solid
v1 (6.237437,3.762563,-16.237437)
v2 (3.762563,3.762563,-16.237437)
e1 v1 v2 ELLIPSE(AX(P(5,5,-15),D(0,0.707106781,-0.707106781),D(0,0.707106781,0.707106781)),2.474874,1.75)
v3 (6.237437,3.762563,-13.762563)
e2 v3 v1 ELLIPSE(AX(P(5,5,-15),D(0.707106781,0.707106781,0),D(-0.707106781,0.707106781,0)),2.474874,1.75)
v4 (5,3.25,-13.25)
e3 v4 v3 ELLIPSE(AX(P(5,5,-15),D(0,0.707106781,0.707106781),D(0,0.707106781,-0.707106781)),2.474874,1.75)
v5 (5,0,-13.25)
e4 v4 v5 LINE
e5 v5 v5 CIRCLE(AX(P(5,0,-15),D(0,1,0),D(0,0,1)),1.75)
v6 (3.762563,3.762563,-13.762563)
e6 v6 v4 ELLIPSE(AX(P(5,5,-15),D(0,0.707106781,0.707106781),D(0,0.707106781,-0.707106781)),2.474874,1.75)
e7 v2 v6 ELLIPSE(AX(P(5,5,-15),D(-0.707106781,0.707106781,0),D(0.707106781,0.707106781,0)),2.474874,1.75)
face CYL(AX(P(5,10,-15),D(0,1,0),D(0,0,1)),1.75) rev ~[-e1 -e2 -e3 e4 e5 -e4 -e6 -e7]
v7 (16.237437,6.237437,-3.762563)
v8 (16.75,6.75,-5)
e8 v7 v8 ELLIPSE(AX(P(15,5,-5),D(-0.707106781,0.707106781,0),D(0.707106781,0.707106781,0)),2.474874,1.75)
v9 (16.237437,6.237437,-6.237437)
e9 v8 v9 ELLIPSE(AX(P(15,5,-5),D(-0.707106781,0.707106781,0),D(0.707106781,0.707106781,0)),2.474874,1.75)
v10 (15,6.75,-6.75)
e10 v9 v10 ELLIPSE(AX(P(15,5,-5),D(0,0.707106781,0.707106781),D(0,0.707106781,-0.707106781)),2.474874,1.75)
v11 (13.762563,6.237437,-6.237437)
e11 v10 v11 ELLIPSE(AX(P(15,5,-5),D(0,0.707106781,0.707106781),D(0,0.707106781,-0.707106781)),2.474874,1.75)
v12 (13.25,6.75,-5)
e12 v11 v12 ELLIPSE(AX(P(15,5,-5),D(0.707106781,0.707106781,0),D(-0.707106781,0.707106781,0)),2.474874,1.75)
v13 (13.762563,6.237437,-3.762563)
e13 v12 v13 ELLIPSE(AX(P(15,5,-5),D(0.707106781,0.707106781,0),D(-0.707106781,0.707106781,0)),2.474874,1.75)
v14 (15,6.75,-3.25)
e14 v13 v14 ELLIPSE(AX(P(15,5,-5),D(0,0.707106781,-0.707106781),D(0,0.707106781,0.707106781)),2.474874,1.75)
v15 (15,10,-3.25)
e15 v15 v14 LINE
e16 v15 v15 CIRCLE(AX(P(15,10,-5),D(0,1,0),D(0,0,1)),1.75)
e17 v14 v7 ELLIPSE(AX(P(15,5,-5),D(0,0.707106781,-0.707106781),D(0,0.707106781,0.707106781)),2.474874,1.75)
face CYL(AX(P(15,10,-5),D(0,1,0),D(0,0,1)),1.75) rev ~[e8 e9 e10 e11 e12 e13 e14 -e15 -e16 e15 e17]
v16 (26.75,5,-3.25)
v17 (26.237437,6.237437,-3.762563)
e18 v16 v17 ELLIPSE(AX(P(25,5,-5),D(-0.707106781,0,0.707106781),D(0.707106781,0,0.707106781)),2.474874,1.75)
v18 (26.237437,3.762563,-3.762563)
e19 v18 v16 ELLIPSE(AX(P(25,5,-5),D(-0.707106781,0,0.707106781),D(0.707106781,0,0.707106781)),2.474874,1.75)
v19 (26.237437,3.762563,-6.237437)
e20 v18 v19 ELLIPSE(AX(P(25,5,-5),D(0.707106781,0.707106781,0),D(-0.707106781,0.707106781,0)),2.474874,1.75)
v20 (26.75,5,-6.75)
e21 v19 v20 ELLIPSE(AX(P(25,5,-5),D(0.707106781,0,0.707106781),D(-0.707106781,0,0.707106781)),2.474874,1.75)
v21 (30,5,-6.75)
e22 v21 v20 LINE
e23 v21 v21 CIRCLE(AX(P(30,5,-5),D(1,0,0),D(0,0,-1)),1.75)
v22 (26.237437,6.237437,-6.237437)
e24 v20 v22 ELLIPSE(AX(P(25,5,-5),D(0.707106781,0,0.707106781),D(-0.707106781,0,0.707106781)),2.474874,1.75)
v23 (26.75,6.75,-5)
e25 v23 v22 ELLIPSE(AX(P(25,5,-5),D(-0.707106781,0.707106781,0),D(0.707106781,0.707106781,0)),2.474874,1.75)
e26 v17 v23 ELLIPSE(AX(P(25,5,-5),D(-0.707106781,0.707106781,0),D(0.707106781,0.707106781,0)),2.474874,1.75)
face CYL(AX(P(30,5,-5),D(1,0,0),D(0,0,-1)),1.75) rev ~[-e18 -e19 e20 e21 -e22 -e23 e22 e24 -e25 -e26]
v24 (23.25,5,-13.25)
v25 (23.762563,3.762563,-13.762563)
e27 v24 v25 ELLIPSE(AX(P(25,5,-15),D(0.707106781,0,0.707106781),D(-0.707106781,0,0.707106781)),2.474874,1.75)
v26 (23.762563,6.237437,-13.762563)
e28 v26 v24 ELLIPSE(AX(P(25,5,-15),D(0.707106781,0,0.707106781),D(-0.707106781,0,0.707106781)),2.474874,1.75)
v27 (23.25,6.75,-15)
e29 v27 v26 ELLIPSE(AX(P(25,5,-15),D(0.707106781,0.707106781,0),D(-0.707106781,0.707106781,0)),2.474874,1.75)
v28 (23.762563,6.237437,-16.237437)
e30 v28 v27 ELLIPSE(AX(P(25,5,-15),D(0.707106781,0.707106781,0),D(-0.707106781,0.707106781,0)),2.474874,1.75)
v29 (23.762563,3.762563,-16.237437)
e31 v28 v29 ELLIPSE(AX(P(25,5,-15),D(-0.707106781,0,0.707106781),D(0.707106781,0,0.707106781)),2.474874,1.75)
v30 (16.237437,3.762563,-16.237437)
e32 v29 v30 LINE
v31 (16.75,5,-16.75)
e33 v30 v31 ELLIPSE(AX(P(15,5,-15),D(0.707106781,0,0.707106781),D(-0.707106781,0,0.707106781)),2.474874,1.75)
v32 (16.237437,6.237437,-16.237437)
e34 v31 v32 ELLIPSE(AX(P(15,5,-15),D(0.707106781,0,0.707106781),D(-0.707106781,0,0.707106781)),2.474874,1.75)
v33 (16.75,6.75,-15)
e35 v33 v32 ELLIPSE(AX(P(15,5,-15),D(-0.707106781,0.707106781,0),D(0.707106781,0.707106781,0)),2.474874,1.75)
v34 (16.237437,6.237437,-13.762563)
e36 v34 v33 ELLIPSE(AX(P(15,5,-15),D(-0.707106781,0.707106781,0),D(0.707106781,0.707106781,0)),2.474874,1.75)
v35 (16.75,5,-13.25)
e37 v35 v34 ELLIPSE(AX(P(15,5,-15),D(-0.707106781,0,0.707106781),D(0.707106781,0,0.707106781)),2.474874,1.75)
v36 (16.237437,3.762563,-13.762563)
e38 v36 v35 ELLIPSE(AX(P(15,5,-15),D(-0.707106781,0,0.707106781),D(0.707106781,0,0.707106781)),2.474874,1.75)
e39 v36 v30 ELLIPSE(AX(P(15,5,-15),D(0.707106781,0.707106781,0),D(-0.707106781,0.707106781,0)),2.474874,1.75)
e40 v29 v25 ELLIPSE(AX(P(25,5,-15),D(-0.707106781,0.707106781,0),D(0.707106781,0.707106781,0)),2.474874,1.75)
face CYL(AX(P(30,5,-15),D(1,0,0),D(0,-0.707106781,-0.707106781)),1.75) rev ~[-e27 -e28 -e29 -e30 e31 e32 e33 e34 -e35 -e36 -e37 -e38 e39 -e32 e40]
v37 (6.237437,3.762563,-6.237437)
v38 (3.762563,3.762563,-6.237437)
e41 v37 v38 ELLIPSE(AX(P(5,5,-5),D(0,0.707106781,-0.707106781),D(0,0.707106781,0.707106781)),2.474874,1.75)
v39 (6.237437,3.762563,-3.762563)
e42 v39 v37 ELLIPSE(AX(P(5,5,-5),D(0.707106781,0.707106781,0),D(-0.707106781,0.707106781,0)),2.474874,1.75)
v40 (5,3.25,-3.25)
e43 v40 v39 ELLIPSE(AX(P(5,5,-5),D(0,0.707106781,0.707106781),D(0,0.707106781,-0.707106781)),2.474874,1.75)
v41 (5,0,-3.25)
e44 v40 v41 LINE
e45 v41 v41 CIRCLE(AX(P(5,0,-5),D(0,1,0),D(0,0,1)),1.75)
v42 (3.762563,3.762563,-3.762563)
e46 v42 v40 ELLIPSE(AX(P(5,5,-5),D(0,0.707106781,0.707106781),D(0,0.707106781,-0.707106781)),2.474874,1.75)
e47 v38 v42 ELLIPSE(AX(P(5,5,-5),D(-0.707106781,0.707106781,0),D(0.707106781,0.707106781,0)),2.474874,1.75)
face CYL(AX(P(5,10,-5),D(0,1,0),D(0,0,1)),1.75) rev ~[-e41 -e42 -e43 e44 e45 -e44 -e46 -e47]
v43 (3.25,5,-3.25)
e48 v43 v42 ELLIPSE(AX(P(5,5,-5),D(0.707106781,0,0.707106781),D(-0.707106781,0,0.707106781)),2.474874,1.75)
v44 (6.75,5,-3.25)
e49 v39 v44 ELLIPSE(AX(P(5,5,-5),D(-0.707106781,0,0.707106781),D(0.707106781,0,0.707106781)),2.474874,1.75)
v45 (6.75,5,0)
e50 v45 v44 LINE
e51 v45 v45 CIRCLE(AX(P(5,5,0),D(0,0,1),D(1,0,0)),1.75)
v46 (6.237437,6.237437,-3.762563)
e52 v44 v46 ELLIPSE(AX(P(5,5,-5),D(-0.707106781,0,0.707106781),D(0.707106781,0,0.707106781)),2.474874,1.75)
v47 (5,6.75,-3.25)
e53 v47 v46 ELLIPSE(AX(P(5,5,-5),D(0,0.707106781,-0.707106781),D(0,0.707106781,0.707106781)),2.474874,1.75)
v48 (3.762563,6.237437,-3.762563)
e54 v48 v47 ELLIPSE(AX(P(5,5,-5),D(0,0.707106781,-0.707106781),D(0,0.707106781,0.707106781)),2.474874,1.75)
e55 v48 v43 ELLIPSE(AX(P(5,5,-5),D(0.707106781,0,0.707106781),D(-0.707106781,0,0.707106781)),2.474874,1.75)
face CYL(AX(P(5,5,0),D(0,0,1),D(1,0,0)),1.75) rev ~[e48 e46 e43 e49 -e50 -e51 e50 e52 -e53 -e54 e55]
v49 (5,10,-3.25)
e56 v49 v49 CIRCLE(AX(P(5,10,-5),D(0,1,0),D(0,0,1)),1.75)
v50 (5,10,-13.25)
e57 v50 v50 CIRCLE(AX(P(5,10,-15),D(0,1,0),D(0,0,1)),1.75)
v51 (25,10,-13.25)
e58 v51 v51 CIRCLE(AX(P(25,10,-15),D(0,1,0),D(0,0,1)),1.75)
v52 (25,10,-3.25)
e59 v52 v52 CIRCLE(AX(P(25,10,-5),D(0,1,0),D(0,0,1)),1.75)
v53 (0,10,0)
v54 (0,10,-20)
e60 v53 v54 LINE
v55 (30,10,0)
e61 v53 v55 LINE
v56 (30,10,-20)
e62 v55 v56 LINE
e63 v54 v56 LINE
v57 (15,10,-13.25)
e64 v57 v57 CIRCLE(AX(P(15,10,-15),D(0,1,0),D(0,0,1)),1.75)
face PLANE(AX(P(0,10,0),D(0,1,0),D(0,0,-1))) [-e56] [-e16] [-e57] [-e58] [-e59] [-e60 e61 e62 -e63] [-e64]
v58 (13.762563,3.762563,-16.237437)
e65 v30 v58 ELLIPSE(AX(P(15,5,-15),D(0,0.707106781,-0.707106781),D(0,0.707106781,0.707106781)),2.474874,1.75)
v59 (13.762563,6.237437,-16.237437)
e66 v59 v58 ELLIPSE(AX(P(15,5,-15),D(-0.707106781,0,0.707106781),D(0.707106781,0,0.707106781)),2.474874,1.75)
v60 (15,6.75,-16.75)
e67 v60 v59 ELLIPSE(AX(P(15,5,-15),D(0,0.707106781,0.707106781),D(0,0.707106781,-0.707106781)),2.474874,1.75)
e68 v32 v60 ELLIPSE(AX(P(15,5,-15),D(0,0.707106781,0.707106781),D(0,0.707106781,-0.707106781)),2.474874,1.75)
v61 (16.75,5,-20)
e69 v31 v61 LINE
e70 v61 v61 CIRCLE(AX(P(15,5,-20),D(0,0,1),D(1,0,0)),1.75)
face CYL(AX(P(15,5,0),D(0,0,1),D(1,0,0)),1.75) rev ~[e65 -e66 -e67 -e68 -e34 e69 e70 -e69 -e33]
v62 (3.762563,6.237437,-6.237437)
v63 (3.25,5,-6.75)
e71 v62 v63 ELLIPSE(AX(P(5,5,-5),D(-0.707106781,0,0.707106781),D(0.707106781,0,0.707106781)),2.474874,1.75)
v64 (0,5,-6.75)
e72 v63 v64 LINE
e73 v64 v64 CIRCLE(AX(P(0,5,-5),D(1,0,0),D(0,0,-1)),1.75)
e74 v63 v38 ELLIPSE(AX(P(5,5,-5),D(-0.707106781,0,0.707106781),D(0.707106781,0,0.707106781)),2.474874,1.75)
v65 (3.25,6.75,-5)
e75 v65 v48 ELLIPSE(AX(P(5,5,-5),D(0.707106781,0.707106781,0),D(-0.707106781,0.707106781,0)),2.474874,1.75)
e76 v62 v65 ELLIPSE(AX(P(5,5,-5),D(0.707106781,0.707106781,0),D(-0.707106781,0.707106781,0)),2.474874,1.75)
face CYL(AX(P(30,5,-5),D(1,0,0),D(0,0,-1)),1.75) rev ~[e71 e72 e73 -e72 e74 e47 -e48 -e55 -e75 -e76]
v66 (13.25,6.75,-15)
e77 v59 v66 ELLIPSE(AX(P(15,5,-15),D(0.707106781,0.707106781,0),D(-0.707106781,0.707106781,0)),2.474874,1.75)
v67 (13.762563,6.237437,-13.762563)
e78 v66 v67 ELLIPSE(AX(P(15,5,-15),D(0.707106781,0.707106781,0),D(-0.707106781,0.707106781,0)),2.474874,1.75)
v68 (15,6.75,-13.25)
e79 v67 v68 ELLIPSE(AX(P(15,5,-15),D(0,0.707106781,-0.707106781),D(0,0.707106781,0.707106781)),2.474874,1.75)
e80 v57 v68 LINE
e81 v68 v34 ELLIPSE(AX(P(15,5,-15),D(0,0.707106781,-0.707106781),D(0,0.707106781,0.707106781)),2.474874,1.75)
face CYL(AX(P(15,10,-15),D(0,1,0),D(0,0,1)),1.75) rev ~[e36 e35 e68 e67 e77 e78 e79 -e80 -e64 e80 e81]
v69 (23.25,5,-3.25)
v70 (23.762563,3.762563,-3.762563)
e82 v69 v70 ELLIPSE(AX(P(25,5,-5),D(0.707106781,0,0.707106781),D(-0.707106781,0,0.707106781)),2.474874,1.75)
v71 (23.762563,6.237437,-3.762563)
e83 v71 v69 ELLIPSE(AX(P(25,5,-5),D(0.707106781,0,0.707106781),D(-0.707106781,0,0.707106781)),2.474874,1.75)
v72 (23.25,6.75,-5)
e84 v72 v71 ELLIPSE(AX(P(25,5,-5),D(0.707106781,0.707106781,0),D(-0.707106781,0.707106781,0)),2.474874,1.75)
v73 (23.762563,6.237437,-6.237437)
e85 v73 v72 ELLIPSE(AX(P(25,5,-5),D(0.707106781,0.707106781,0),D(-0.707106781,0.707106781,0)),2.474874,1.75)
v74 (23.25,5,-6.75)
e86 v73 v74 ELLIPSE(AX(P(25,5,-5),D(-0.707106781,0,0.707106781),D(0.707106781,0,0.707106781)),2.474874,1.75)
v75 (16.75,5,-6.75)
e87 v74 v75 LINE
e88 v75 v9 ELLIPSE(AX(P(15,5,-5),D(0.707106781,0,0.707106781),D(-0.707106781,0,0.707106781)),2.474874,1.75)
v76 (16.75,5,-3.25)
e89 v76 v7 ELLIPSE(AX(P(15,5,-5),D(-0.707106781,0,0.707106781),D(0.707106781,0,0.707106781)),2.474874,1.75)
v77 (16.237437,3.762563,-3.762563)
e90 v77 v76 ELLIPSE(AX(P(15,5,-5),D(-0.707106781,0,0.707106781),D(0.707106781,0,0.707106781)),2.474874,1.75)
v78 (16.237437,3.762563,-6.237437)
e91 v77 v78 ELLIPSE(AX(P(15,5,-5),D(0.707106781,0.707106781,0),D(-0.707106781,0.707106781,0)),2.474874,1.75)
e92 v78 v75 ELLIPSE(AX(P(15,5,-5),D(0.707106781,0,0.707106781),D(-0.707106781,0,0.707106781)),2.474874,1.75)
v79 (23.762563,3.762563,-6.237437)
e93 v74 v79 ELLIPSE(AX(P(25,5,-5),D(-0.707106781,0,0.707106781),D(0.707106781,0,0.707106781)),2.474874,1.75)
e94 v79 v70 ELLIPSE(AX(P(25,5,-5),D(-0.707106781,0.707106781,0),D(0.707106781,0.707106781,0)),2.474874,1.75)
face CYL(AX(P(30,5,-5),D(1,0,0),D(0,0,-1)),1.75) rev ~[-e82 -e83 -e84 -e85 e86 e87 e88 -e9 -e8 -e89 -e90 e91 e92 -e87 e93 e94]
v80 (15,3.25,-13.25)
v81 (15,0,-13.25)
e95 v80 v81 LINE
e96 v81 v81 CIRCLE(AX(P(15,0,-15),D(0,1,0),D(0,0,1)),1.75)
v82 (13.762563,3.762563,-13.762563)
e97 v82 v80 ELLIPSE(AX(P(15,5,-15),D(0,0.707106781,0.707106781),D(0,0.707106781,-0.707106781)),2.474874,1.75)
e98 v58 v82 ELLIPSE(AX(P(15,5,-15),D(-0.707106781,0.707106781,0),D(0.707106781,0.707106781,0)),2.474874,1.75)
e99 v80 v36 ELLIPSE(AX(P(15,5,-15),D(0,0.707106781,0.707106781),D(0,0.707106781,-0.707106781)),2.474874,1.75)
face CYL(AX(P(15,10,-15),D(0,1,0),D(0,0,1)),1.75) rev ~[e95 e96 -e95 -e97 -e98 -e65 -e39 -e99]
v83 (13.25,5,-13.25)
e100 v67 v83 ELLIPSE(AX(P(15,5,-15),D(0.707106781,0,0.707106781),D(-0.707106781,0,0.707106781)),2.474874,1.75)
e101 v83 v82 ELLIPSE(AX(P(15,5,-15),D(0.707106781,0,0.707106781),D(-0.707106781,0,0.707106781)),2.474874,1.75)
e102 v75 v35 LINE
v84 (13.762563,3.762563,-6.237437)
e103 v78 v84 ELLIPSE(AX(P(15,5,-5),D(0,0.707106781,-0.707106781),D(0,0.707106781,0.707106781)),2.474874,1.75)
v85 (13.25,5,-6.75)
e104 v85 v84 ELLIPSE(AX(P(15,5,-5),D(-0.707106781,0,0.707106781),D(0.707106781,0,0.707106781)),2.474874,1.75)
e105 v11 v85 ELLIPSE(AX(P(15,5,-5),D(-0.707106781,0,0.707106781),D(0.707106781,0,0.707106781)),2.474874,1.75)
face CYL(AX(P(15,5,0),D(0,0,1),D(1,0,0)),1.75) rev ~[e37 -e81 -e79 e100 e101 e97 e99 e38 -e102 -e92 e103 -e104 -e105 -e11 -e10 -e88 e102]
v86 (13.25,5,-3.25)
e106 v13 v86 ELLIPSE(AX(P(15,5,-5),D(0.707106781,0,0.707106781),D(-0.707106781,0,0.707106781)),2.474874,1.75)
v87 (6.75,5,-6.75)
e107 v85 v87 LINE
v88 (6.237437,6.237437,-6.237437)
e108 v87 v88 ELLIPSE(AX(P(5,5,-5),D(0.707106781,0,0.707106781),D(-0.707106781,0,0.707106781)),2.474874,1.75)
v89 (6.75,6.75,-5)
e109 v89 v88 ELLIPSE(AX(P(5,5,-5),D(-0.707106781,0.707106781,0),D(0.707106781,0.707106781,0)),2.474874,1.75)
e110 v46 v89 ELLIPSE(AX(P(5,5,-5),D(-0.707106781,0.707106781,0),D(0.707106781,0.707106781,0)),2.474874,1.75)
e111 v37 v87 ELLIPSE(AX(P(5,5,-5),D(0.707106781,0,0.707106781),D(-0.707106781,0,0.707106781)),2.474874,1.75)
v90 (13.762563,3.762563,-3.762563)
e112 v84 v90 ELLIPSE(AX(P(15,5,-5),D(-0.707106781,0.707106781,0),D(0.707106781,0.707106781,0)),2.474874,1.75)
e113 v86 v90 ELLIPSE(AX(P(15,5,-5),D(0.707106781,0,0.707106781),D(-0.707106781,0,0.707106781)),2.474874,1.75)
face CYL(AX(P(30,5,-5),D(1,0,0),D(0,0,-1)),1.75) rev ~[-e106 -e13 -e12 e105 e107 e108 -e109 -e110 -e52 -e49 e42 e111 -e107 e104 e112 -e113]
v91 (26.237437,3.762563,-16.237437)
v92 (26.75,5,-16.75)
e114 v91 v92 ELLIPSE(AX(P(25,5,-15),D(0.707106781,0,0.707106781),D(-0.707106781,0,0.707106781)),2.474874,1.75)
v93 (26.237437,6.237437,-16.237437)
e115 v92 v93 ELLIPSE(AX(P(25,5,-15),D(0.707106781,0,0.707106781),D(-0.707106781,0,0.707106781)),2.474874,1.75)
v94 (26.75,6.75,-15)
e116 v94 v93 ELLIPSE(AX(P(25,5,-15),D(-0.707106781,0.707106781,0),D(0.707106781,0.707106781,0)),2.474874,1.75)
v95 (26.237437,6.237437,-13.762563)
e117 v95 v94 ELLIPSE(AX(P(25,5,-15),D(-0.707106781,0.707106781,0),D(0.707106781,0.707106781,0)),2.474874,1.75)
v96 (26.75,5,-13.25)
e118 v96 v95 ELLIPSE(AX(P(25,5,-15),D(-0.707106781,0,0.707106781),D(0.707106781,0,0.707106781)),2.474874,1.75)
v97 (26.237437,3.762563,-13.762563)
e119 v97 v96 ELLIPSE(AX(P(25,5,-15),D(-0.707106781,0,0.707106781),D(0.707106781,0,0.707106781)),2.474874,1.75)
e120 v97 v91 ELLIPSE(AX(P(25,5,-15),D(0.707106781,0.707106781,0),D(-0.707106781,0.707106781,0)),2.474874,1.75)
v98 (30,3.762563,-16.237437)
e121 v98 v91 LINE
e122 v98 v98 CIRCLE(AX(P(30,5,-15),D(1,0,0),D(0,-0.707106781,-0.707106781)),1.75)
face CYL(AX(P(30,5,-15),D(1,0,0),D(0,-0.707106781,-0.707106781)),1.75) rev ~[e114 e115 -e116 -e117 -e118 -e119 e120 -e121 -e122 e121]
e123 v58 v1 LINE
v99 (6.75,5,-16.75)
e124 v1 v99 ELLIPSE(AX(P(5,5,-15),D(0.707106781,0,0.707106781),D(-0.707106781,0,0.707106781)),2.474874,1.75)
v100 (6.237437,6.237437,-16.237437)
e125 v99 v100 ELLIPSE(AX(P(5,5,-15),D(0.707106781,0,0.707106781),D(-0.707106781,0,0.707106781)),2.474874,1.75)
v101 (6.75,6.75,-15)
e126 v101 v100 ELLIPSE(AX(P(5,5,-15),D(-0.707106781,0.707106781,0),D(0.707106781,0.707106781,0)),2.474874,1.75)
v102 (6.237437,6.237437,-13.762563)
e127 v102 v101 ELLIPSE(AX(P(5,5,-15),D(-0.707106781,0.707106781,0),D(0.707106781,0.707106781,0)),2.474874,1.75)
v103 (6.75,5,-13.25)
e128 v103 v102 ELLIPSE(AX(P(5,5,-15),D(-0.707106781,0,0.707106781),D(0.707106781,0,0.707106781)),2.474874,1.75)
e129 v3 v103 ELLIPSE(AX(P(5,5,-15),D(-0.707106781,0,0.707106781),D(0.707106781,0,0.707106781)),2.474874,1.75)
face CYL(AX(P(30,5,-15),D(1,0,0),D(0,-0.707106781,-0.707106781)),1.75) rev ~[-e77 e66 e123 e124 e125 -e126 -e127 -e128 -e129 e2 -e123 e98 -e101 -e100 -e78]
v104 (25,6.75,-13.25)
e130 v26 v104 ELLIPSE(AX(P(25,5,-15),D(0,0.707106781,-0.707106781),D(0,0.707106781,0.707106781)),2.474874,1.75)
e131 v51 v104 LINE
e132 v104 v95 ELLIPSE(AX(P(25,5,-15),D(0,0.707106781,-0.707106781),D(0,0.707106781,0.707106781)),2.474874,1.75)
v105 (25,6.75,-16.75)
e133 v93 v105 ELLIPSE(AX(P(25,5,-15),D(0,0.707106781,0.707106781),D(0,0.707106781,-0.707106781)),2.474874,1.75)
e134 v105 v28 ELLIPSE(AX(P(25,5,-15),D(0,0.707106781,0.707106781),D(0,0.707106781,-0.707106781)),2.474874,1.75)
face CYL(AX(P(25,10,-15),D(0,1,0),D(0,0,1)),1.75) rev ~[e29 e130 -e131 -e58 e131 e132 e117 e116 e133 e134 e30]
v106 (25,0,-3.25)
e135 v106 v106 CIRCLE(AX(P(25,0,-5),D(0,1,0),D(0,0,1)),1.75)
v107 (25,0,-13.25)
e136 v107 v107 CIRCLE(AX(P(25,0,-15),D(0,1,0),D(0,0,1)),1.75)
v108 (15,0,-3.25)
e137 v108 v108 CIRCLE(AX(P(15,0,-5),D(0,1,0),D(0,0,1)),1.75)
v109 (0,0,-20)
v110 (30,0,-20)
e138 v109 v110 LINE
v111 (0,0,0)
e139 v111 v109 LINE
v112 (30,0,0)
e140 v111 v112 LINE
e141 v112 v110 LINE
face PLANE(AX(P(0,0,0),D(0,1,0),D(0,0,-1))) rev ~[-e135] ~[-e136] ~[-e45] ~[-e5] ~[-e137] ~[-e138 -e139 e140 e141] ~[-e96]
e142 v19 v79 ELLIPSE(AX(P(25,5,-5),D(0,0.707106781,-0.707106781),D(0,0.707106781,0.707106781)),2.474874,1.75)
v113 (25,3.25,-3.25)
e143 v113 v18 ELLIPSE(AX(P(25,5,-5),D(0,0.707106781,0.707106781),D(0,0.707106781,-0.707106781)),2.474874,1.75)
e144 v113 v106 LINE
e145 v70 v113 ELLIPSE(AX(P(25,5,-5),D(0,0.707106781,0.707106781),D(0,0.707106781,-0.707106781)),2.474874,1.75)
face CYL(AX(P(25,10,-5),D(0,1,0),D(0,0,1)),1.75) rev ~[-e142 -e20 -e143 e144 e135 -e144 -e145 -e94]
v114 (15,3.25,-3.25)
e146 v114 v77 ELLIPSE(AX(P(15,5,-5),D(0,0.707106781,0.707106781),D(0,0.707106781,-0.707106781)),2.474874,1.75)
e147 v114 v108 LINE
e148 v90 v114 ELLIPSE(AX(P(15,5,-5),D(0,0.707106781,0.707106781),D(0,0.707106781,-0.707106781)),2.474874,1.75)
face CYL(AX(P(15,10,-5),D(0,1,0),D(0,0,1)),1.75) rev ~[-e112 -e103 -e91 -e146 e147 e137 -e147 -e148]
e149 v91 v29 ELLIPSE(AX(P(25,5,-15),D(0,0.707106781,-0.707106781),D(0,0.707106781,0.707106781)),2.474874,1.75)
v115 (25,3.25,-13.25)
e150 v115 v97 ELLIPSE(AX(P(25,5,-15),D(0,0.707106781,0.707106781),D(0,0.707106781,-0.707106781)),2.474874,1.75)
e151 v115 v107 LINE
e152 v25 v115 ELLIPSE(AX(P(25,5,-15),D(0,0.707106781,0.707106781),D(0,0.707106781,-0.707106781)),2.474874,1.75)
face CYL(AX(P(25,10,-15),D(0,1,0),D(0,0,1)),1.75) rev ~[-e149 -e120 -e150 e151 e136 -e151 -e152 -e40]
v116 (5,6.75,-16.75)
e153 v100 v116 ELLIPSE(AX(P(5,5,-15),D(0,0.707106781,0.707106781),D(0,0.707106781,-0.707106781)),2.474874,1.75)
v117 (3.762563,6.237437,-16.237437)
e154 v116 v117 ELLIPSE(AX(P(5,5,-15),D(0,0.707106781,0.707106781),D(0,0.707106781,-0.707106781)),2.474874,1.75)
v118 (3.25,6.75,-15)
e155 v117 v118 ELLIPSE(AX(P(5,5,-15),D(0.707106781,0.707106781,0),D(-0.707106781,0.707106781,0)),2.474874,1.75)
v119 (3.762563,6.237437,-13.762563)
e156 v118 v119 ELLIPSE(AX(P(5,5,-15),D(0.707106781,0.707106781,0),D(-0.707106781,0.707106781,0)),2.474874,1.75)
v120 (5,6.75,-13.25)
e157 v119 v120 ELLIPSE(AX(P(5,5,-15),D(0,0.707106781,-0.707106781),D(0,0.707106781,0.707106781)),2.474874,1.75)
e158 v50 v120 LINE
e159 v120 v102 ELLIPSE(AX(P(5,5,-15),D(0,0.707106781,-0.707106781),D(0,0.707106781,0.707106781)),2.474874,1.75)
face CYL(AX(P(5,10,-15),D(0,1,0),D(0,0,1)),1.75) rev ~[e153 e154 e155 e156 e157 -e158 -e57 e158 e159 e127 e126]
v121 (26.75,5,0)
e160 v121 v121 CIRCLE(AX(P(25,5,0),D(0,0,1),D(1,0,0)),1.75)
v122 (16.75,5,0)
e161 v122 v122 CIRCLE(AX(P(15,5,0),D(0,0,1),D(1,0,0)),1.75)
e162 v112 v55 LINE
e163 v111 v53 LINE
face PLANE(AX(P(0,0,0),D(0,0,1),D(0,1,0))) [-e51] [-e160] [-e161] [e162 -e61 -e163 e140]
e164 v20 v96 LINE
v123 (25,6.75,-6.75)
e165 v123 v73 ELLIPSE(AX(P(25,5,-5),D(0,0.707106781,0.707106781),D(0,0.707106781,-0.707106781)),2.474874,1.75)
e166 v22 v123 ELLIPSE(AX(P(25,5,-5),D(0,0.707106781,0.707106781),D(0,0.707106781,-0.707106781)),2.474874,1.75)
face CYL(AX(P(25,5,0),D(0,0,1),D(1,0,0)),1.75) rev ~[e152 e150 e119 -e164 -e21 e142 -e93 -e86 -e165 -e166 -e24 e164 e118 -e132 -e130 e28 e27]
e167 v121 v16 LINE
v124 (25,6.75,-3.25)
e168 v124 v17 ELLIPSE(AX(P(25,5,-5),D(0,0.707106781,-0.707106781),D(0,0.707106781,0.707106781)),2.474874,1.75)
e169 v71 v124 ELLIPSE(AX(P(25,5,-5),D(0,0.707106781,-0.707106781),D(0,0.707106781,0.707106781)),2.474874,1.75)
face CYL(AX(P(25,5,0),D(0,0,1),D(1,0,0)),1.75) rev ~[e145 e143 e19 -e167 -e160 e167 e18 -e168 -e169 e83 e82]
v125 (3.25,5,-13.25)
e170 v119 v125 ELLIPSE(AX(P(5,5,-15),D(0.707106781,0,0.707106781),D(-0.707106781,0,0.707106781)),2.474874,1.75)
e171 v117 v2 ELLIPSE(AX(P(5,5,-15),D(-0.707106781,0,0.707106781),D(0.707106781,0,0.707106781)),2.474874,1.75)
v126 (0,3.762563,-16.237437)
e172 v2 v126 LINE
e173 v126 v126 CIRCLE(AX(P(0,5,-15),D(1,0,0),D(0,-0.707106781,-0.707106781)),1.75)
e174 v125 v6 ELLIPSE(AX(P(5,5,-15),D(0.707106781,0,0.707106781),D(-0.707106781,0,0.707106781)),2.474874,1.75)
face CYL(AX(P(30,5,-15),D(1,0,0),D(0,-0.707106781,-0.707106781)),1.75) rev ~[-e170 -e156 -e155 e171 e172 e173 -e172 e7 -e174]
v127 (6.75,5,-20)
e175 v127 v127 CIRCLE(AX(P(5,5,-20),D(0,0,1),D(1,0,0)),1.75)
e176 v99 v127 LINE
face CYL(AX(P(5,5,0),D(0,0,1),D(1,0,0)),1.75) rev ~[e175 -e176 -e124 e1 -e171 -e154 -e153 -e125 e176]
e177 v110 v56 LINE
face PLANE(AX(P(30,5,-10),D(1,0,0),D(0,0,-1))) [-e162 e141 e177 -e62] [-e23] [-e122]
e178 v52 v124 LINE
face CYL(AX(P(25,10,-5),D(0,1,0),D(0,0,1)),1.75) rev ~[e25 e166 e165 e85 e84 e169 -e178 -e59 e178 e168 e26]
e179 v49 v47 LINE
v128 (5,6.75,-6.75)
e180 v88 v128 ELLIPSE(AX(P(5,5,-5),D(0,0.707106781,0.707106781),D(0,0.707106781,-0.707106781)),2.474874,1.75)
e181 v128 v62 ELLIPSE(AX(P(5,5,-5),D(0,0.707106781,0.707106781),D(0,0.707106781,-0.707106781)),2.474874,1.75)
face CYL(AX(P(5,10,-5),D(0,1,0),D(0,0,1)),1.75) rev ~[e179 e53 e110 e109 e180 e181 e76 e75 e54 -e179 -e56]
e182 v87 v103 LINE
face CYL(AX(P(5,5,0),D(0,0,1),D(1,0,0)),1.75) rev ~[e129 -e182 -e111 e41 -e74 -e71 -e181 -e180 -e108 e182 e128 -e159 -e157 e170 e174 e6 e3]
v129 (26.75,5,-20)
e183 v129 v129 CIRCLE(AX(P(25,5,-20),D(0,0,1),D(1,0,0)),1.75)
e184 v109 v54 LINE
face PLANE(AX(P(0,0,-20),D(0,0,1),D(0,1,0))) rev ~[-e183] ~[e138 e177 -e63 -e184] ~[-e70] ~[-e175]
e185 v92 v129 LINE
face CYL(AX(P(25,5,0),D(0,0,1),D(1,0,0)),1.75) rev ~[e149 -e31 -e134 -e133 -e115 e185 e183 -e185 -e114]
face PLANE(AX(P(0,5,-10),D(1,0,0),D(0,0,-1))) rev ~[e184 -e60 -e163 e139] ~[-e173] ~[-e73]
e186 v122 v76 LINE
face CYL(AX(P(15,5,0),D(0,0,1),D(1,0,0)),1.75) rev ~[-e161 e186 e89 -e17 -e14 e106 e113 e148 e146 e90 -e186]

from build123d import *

# Parameters (mm, degrees)
ESQUISSE1_W             = 20
ESQUISSE1_H             = 10
BOSS_EXTRU_1_DEPTH      = 30
ESQUISSE2_R             = 1.75
ENL_V_MAT_EXTRU_1_DEPTH = 38.416573868
ESQUISSE3_R             = 1.75
ENL_V_MAT_EXTRU_2_DEPTH = 40
ESQUISSE4_R             = 1.75
ENL_V_MAT_EXTRU_3_DEPTH = 40


with BuildPart() as part:
    # Esquisse1 → Boss.-Extru.1 (new body)
    with BuildSketch(Plane(origin=(0, 0, 0), x_dir=(0, 0, -1), z_dir=(1, 0, 0))):
        with Locations((10, 5)):
            Rectangle(ESQUISSE1_W, ESQUISSE1_H)
    extrude(amount=BOSS_EXTRU_1_DEPTH)

    # Esquisse2 → Enlèv. mat.-Extru.1 (cut, through all)
    with BuildSketch(Plane(origin=(0, 10, 0), x_dir=(1, 0, 0), z_dir=(0, 1, 0))):
        with Locations(Location((5, 15, 0), (0, 0, 270))):
            Circle(ESQUISSE2_R)
        with Locations(Location((15, 15, 0), (0, 0, 270))):
            Circle(ESQUISSE2_R)
        with Locations(Location((25, 15, 0), (0, 0, 270))):
            Circle(ESQUISSE2_R)
        with Locations((35, 15)):
            Circle(ESQUISSE2_R)
        with Locations(Location((5, 5, 0), (0, 0, 270))):
            Circle(ESQUISSE2_R)
        with Locations(Location((15, 5, 0), (0, 0, 270))):
            Circle(ESQUISSE2_R)
        with Locations(Location((25, 5, 0), (0, 0, 270))):
            Circle(ESQUISSE2_R)
        with Locations((35, 5)):
            Circle(ESQUISSE2_R)
        with Locations((5, -5)):
            Circle(ESQUISSE2_R)
        with Locations((15, -5)):
            Circle(ESQUISSE2_R)
        with Locations((25, -5)):
            Circle(ESQUISSE2_R)
        with Locations((35, -5)):
            Circle(ESQUISSE2_R)
        with Locations((5, -15)):
            Circle(ESQUISSE2_R)
        with Locations((15, -15)):
            Circle(ESQUISSE2_R)
        with Locations((25, -15)):
            Circle(ESQUISSE2_R)
        with Locations((35, -15)):
            Circle(ESQUISSE2_R)
    extrude(amount=-ENL_V_MAT_EXTRU_1_DEPTH, mode=Mode.SUBTRACT)

    # Esquisse3 → Enlèv. mat.-Extru.2 (cut)
    with BuildSketch(Plane.XY):
        with Locations((5, 5)):
            Circle(ESQUISSE3_R)
        with Locations((15, 5)):
            Circle(ESQUISSE3_R)
        with Locations((25, 5)):
            Circle(ESQUISSE3_R)
        with Locations((35, 5)):
            Circle(ESQUISSE3_R)
    extrude(amount=-ENL_V_MAT_EXTRU_2_DEPTH, mode=Mode.SUBTRACT)

    # Esquisse4 → Enlèv. mat.-Extru.3 (cut)
    with BuildSketch(Plane(origin=(30, 0, 0), x_dir=(0, 0, -1), z_dir=(1, 0, 0))):
        with Locations((5, 5)):
            Circle(ESQUISSE4_R)
        with Locations(Location((15, 5, 0), (0, 0, 315))):
            Circle(ESQUISSE4_R)
        with Locations((25, 5)):
            Circle(ESQUISSE4_R)
        with Locations((35, 5)):
            Circle(ESQUISSE4_R)
    extrude(amount=-ENL_V_MAT_EXTRU_3_DEPTH, mode=Mode.SUBTRACT)


solid = part.part
